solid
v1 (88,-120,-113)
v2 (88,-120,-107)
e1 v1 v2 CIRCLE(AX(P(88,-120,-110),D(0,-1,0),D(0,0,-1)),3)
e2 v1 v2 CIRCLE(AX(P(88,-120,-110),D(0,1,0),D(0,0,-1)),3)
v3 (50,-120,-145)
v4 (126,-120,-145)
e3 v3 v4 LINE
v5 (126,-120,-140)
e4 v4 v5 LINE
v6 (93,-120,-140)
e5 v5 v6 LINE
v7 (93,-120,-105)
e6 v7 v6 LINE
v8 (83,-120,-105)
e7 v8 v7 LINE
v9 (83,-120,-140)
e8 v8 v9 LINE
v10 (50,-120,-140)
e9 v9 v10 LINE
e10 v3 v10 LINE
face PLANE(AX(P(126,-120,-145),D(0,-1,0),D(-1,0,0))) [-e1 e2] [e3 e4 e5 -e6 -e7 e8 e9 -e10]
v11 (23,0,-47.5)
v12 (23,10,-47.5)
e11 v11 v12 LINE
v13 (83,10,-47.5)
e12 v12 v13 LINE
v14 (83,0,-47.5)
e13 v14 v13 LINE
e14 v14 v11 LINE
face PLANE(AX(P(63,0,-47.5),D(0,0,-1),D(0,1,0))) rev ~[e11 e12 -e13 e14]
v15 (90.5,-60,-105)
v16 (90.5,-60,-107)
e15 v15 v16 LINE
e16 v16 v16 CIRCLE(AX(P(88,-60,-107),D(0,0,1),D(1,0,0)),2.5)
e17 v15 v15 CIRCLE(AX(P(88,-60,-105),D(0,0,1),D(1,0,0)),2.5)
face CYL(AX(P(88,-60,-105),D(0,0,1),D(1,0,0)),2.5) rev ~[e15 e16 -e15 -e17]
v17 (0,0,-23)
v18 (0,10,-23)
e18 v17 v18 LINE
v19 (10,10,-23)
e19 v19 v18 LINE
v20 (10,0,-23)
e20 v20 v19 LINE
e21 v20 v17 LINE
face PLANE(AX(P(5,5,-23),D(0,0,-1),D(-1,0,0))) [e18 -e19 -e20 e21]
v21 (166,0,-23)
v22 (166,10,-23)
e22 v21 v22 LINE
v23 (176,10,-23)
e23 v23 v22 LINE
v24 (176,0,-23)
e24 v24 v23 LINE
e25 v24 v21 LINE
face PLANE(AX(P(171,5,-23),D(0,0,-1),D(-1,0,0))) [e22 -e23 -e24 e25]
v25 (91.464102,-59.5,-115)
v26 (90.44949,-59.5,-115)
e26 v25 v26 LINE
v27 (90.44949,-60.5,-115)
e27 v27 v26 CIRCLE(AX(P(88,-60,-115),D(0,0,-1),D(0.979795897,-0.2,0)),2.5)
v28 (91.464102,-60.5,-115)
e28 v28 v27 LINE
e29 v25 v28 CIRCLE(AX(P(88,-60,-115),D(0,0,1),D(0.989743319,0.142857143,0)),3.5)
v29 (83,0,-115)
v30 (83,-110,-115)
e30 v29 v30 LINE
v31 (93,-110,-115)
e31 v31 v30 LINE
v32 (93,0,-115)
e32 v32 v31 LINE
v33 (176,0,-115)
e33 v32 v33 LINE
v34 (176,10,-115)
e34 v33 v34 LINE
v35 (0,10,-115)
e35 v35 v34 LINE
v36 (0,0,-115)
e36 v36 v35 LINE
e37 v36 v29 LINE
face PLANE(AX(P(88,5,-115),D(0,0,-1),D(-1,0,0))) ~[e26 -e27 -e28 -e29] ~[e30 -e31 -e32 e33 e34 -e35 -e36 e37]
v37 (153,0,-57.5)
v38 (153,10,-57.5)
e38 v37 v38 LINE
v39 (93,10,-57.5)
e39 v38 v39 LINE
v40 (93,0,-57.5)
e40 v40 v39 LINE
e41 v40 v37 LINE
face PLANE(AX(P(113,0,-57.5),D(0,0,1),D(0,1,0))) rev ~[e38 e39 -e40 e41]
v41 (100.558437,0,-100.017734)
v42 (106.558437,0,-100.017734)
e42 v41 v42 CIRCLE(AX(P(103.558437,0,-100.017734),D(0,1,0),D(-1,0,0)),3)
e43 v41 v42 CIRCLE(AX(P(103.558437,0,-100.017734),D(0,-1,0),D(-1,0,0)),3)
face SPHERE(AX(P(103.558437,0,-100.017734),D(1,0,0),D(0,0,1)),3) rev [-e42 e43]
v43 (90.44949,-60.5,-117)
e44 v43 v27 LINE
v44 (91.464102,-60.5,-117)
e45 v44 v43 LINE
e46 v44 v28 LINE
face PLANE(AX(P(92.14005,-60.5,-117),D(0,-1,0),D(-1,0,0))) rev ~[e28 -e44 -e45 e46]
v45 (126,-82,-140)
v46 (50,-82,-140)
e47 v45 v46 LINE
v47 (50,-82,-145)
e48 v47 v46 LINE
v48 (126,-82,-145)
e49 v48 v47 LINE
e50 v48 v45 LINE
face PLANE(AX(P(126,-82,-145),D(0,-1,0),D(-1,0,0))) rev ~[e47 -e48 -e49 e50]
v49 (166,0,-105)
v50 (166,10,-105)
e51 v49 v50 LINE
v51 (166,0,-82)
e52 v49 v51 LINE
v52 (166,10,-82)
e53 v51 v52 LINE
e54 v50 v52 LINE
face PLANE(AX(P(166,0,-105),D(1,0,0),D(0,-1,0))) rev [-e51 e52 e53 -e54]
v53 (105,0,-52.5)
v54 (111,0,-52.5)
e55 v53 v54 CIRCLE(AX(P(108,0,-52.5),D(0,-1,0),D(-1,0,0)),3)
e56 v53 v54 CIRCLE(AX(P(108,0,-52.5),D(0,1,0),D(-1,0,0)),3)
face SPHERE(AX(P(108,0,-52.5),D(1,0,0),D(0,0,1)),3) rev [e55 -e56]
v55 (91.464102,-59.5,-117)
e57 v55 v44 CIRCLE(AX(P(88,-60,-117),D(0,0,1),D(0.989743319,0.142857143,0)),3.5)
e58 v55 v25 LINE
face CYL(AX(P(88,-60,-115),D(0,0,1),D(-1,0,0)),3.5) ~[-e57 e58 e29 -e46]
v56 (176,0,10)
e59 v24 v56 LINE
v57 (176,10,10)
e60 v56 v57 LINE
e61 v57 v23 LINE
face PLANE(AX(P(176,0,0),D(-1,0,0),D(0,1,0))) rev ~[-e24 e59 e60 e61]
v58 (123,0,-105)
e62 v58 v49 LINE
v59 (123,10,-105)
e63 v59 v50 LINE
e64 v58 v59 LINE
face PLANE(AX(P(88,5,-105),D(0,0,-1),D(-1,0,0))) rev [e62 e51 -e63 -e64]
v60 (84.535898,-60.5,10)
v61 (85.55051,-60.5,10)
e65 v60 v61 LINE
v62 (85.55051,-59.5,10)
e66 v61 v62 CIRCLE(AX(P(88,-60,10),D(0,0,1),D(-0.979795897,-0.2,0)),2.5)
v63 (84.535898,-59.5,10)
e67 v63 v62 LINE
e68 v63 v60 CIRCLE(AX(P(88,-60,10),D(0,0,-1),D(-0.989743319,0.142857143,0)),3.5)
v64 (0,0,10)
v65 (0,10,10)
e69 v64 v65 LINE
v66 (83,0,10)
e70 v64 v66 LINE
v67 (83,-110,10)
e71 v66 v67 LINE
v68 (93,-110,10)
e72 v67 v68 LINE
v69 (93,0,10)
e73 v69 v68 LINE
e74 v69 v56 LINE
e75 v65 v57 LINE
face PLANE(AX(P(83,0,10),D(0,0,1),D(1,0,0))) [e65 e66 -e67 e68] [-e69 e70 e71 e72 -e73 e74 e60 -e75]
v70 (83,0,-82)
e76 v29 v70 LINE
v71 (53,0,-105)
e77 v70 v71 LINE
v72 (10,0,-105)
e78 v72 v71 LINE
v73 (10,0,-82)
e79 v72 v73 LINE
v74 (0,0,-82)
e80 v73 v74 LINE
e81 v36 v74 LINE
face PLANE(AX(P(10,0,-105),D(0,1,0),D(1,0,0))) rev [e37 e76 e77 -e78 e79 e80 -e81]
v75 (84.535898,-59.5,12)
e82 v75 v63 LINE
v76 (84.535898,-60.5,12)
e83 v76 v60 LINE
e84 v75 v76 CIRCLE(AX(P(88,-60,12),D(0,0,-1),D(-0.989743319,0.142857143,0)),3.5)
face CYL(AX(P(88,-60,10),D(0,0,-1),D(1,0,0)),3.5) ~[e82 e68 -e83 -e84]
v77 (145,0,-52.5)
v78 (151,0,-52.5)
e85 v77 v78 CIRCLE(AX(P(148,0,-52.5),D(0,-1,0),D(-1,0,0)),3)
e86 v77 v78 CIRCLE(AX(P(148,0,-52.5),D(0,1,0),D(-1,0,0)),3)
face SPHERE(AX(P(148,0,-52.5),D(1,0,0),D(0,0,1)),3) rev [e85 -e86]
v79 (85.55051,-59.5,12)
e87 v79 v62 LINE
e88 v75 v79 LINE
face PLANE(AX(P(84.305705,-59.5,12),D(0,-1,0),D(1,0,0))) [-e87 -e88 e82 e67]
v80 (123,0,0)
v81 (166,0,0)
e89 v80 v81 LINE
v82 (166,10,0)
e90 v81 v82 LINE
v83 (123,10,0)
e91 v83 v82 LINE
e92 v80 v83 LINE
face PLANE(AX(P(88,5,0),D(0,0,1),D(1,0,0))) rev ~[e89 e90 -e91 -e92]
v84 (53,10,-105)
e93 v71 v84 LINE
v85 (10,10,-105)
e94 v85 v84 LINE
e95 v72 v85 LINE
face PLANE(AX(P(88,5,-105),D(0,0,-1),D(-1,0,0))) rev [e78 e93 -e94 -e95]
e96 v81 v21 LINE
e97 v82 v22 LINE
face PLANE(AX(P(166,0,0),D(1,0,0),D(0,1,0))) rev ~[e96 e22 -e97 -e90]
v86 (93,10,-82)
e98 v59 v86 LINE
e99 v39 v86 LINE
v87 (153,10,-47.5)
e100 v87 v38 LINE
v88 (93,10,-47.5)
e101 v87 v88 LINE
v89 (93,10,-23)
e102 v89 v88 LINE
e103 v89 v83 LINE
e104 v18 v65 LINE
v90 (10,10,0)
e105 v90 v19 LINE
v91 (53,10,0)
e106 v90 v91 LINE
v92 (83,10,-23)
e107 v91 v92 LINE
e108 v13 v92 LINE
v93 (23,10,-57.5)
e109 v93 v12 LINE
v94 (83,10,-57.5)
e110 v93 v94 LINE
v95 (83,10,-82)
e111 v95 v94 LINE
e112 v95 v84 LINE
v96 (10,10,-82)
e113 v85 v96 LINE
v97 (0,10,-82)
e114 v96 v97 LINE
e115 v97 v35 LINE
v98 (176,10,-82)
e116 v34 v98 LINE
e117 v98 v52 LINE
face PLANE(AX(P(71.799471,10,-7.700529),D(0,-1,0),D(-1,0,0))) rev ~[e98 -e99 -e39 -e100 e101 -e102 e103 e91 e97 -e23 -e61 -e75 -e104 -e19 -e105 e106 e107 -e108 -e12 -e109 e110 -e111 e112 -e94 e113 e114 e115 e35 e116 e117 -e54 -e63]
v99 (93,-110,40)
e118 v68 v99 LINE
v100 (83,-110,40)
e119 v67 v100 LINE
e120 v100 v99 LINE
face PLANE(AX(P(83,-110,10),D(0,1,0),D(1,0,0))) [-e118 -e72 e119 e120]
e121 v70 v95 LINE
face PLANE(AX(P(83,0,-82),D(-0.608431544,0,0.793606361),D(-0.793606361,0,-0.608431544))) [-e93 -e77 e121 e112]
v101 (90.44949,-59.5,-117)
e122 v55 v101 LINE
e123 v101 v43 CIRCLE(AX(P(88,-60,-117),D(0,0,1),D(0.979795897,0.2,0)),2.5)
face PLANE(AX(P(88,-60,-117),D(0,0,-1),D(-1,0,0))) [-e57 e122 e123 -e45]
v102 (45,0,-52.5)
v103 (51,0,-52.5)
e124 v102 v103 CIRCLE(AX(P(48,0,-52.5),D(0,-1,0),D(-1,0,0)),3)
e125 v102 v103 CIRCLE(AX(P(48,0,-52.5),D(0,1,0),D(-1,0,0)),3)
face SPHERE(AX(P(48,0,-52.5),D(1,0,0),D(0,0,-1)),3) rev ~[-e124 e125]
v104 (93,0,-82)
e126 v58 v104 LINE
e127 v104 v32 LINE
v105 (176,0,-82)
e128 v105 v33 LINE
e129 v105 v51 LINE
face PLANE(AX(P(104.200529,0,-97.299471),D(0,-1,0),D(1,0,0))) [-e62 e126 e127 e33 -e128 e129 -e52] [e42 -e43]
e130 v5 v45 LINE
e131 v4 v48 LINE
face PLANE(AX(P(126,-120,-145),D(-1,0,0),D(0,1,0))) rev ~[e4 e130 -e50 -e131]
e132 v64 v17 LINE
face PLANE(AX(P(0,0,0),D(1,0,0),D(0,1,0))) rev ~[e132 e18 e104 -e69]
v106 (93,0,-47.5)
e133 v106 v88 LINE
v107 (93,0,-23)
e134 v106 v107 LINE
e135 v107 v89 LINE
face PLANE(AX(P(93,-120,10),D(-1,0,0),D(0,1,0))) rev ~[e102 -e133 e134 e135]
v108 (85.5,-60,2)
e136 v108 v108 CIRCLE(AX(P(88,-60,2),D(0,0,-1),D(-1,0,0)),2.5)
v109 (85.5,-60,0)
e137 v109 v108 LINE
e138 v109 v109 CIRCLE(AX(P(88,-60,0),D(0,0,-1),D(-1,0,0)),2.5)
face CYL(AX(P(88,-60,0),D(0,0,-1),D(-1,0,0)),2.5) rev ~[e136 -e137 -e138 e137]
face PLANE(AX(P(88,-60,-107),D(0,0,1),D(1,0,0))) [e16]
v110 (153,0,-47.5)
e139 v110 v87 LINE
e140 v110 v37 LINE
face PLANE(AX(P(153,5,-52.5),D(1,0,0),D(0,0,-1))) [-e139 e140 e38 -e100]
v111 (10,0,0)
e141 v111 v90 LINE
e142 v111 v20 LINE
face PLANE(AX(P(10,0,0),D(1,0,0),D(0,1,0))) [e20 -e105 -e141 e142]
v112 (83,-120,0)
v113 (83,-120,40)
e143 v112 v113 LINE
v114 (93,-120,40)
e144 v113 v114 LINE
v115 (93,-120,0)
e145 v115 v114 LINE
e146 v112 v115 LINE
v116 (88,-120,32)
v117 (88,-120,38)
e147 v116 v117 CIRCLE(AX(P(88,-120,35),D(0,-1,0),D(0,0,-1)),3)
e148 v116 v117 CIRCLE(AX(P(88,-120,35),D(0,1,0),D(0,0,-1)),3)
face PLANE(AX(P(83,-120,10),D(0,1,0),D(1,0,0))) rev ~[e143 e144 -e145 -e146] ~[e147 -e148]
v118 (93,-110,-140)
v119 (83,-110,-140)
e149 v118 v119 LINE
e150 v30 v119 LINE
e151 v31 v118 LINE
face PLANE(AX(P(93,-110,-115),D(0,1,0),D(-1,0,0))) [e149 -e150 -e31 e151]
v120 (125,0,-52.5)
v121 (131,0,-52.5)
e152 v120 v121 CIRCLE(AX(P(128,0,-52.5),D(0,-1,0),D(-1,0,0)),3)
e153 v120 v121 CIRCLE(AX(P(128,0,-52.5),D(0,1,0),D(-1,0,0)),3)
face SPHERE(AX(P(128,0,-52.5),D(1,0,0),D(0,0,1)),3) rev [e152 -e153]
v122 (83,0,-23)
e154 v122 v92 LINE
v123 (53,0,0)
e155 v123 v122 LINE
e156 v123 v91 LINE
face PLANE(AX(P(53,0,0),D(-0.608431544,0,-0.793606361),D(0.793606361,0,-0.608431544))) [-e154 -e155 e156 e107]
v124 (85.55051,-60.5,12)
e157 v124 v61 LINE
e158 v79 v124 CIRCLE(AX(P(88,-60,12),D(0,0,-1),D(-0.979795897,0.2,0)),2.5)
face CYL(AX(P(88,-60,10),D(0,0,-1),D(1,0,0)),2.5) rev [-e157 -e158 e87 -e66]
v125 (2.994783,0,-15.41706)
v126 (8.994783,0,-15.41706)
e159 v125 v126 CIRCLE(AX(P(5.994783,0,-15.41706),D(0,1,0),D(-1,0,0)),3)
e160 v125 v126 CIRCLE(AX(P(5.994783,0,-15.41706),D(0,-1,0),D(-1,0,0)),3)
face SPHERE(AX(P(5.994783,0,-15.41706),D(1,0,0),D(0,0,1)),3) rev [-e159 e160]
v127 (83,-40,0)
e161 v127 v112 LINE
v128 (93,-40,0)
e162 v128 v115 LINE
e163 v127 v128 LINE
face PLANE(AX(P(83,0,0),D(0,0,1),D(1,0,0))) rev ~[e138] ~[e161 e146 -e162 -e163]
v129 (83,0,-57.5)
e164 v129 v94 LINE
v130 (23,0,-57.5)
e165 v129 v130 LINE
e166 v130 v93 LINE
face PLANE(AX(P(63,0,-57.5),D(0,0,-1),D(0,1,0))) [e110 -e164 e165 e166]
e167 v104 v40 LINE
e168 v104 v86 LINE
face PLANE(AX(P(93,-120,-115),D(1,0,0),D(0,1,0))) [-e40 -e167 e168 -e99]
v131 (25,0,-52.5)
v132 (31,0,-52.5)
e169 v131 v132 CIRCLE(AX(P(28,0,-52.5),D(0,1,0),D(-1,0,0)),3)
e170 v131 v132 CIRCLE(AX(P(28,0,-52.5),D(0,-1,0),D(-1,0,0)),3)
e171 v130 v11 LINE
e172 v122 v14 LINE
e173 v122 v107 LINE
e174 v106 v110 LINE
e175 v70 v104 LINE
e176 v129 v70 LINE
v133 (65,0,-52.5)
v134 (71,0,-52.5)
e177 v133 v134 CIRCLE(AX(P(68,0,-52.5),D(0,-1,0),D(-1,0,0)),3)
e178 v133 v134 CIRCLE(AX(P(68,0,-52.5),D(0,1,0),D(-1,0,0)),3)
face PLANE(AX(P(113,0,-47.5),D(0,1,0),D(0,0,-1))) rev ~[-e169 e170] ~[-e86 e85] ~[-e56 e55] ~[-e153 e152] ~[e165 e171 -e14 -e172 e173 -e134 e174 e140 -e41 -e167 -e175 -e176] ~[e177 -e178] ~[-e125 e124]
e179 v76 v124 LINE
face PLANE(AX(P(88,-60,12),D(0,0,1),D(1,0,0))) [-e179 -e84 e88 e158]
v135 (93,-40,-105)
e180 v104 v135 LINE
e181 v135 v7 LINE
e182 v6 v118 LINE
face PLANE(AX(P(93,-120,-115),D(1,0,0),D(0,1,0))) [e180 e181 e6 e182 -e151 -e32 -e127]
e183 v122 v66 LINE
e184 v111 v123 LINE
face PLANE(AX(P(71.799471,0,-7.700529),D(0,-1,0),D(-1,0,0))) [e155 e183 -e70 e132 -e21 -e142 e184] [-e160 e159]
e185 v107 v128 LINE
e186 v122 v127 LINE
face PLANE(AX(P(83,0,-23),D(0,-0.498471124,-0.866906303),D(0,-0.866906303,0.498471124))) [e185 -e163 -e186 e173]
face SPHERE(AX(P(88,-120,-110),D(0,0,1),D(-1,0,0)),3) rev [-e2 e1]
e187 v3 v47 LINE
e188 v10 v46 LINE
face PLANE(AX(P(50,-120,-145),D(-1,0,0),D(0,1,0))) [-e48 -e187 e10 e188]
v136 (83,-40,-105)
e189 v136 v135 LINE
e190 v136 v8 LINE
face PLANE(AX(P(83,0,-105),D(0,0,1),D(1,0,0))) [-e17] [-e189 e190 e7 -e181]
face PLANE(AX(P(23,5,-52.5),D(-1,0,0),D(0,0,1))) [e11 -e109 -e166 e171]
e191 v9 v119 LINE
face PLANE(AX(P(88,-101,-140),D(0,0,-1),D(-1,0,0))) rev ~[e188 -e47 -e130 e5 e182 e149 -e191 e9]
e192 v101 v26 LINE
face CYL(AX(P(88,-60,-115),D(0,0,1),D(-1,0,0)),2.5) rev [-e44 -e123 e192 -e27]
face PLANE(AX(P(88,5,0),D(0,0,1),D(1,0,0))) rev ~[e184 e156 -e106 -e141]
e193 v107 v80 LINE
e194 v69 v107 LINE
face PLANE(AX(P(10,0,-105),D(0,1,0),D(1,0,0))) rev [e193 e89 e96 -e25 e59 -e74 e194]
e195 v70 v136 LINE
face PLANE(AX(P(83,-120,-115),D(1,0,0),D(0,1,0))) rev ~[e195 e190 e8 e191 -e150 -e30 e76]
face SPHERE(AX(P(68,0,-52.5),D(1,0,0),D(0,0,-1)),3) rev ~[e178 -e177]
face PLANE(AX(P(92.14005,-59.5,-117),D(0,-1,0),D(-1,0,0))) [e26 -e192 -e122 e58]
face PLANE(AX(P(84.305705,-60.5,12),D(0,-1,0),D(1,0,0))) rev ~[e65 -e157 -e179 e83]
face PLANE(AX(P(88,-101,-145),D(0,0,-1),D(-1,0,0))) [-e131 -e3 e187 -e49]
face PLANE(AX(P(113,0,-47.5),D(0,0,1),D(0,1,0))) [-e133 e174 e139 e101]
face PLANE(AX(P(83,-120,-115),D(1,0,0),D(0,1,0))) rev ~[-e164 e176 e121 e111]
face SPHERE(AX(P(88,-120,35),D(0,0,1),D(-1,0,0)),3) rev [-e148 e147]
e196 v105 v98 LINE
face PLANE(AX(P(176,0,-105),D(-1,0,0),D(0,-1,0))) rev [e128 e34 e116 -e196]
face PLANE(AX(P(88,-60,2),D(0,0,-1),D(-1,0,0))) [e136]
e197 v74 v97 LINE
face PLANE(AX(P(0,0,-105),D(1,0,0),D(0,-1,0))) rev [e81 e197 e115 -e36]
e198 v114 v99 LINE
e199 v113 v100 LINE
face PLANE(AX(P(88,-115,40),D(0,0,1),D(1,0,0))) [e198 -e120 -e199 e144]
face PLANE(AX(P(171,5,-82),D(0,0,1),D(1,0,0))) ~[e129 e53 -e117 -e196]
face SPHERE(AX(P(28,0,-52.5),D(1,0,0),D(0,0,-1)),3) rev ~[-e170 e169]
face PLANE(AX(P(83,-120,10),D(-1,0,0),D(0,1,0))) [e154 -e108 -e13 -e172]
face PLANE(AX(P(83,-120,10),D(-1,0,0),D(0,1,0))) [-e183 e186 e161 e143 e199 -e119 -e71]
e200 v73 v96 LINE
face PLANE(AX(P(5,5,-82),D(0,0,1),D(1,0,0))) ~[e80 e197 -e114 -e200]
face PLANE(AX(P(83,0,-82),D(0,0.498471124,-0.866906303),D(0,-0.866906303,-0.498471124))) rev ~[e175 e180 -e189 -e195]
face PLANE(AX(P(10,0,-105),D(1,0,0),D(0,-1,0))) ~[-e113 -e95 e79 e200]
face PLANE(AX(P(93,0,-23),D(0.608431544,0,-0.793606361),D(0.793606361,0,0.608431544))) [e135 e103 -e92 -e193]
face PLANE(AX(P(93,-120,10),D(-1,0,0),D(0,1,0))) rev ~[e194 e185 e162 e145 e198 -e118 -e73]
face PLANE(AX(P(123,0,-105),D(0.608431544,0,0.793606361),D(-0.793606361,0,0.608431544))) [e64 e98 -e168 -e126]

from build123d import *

# Parameters (mm, degrees)
SKETCH1_W            = 176
SKETCH1_H            = 10
BOSS_EXTRUDE1_DEPTH  = 10
SKETCH2_W            = 10
SKETCH2_H            = 10
BOSS_EXTRUDE2_DEPTH  = 52.5
SKETCH3_W            = 10
SKETCH3_H            = 10
BOSS_EXTRUDE3_DEPTH  = 23
SKETCH4_W            = 10
SKETCH4_H            = 10
BOSS_EXTRUDE4_DEPTH  = 120
BOSS_EXTRUDE5_DEPTH  = 10
SKETCH17_W           = 10
SKETCH17_H           = 10
BOSS_EXTRUDE6_DEPTH  = 20
CUT_REVOLVE2_ANGLE   = 180
LPATTERN1_COUNT      = 3
LPATTERN1_PITCH      = 20
SKETCH23_W           = 10
SKETCH23_H           = 10
BOSS_EXTRUDE7_DEPTH  = 20
CUT_REVOLVE3_ANGLE   = 180
LPATTERN2_COUNT      = 3
LPATTERN2_PITCH      = 20
SKETCH25_W           = 10
SKETCH25_H           = 10
BOSS_EXTRUDE8_DEPTH  = 30
SKETCH27_W           = 10
SKETCH27_H           = 10
BOSS_EXTRUDE10_DEPTH = 30
SKETCH28_W           = 76
SKETCH28_H           = 38
BOSS_EXTRUDE11_DEPTH = 5
BOSS_EXTRUDE12_DEPTH = 10
CIRPATTERN2_COUNT    = 2
SKETCH31_R           = 3.5
SKETCH31_R_2         = 2.5
BOSS_EXTRUDE13_DEPTH = 2
SKETCH32_R           = 3.5
SKETCH32_R_2         = 2.5
BOSS_EXTRUDE14_DEPTH = 2
SKETCH33_R           = 2.5
CUT_EXTRUDE1_DEPTH   = 2
SKETCH34_R           = 2.5
CUT_EXTRUDE2_DEPTH   = 2
SKETCH35_W           = 2.388589586
SKETCH35_H           = 1
CUT_EXTRUDE3_DEPTH   = 2
SKETCH37_W           = 2.280099824
SKETCH37_H           = 1
CUT_EXTRUDE4_DEPTH   = 2
CUT_REVOLVE4_ANGLE   = 180
CUT_REVOLVE5_ANGLE   = 180
CUT_REVOLVE8_ANGLE   = 180
CUT_REVOLVE9_ANGLE   = 180


with BuildPart() as part:
    # Sketch1 → Boss-Extrude1 (new body)
    with BuildSketch(Plane.XY):
        with Locations((88, 5)):
            Rectangle(SKETCH1_W, SKETCH1_H)
    extrude(amount=BOSS_EXTRUDE1_DEPTH)

    # Sketch2 → Boss-Extrude2 (add)
    with BuildSketch(Plane(origin=(0, 0, 0), x_dir=(-1, 0, 0), z_dir=(0, 0, -1))):
        with Locations((-88, 5)):
            Rectangle(SKETCH2_W, SKETCH2_H)
    extrude(amount=BOSS_EXTRUDE2_DEPTH)

    # Sketch3 → Boss-Extrude3 (add)
    with BuildSketch(Plane(origin=(0, 0, 0), x_dir=(-1, 0, 0), z_dir=(0, 0, -1))):
        with Locations((-5, 5)):
            Rectangle(SKETCH3_W, SKETCH3_H)
        with Locations((-171, 5)):
            Rectangle(SKETCH3_W, SKETCH3_H)
    extrude(amount=BOSS_EXTRUDE3_DEPTH)

    # Mirror6: part across plane


with BuildPart() as part_1:
    add(part.part)
    add(part.part.mirror(Plane.XY.offset(-52.5)))

    # Sketch4 → Boss-Extrude4 (add)
    with BuildSketch(Plane.XZ):
        with Locations((88, 5)):
            Rectangle(SKETCH4_W, SKETCH4_H)
        with Locations((88, -110)):
            Rectangle(SKETCH4_W, SKETCH4_H)
    extrude(amount=BOSS_EXTRUDE4_DEPTH)

    # Sketch13 → Boss-Extrude5 (add)
    with BuildSketch(Plane.ZY.offset(-83)):
        Polygon((-105, 0), (-82, 0), (-105, -40), align=None)
        Polygon((0, -40), (0, 0), (-23, 0), align=None)
    extrude(amount=-BOSS_EXTRUDE5_DEPTH)

    # Sketch17 → Boss-Extrude6 (add)
    with BuildSketch(Plane.ZY.offset(-83)):
        with Locations((-52.5, 5)):
            Rectangle(SKETCH17_W, SKETCH17_H)
    boss_extrude6 = extrude(amount=BOSS_EXTRUDE6_DEPTH)

    # Sketch18 → Cut-Revolve2 (revolve, cut)
    with BuildSketch(Plane.XZ):
        with BuildLine():
            Line((71, -52.5), (65, -52.5))
            ThreePointArc((65, -52.5), (68, -55.5), (71, -52.5))
        make_face()
    cut_revolve2 = revolve(axis=Axis((71, 0, -52.5), (1, 0, 0)), revolution_arc=CUT_REVOLVE2_ANGLE, mode=Mode.SUBTRACT)

    # LPattern1: Boss-Extrude6, Cut-Revolve2 ×3
    with Locations(*[(-i * LPATTERN1_PITCH, 0, 0) for i in range(1, LPATTERN1_COUNT)]):
        add(boss_extrude6)
        add(cut_revolve2, mode=Mode.SUBTRACT)

    # Sketch23 → Boss-Extrude7 (add)
    with BuildSketch(Plane(origin=(93, 0, 0), x_dir=(0, 0, -1), z_dir=(1, 0, 0))):
        with Locations((52.5, 5)):
            Rectangle(SKETCH23_W, SKETCH23_H)
    boss_extrude7 = extrude(amount=BOSS_EXTRUDE7_DEPTH)

    # Sketch24 → Cut-Revolve3 (revolve, cut)
    with BuildSketch(Plane.XZ):
        with BuildLine():
            ThreePointArc((105, -52.5), (108, -49.5), (111, -52.5))
            Line((111, -52.5), (105, -52.5))
        make_face()
    cut_revolve3 = revolve(axis=Axis((111, 0, -52.5), (-1, 0, 0)), revolution_arc=CUT_REVOLVE3_ANGLE, mode=Mode.SUBTRACT)

    # LPattern2: Boss-Extrude7, Cut-Revolve3 ×3
    with Locations(*[(i * LPATTERN2_PITCH, 0, 0) for i in range(1, LPATTERN2_COUNT)]):
        add(boss_extrude7)
        add(cut_revolve3, mode=Mode.SUBTRACT)

    # Sketch25 → Boss-Extrude8 (add)
    with BuildSketch(Plane(origin=(0, 0, -115), x_dir=(-1, 0, 0), z_dir=(0, 0, -1))):
        with Locations((-88, -115)):
            Rectangle(SKETCH25_W, SKETCH25_H)
    extrude(amount=BOSS_EXTRUDE8_DEPTH)

    # Sketch27 → Boss-Extrude10 (add)
    with BuildSketch(Plane.XY.offset(10)):
        with Locations((88, -115)):
            Rectangle(SKETCH27_W, SKETCH27_H)
    extrude(amount=BOSS_EXTRUDE10_DEPTH)

    # Sketch28 → Boss-Extrude11 (add)
    with BuildSketch(Plane(origin=(0, 0, -145), x_dir=(-1, 0, 0), z_dir=(0, 0, -1))):
        with Locations((-88, -101)):
            Rectangle(SKETCH28_W, SKETCH28_H)
    extrude(amount=-BOSS_EXTRUDE11_DEPTH)

    # Sketch30 → Boss-Extrude12 (add)
    with BuildSketch(Plane.XZ):
        Polygon((93, -105), (123, -105), (93, -82), align=None)
        Polygon((93, 0), (93, -23), (123, 0), align=None)
    boss_extrude12 = extrude(amount=-BOSS_EXTRUDE12_DEPTH)

    # CirPattern2: Boss-Extrude12 ×2 about axis
    cirpattern2_axis = Axis((88, 0, -52.5), (0, 1, 0))
    for i in range(1, CIRPATTERN2_COUNT):
        add(boss_extrude12.rotate(cirpattern2_axis, i * 360 / CIRPATTERN2_COUNT))

    # Sketch31 → Boss-Extrude13 (add)
    with BuildSketch(Plane(origin=(0, 0, -115), x_dir=(-1, 0, 0), z_dir=(0, 0, -1))):
        with Locations((-88, -60)):
            Circle(SKETCH31_R)
        with Locations((-88, -60)):
            Circle(SKETCH31_R_2, mode=Mode.SUBTRACT)
    extrude(amount=BOSS_EXTRUDE13_DEPTH)

    # Sketch32 → Boss-Extrude14 (add)
    with BuildSketch(Plane.XY.offset(10)):
        with Locations((88, -60)):
            Circle(SKETCH32_R)
        with Locations((88, -60)):
            Circle(SKETCH32_R_2, mode=Mode.SUBTRACT)
    extrude(amount=BOSS_EXTRUDE14_DEPTH)

    # Sketch33 → Cut-Extrude1 (cut)
    with BuildSketch(Plane.XY.offset(-105)):
        with Locations((88, -60)):
            Circle(SKETCH33_R)
    extrude(amount=-CUT_EXTRUDE1_DEPTH, mode=Mode.SUBTRACT)

    # Sketch34 → Cut-Extrude2 (cut)
    with BuildSketch(Plane(origin=(0, 0, 0), x_dir=(-1, 0, 0), z_dir=(0, 0, -1))):
        with Locations((-88, -60)):
            Circle(SKETCH34_R)
    extrude(amount=-CUT_EXTRUDE2_DEPTH, mode=Mode.SUBTRACT)

    # Sketch35 → Cut-Extrude3 (cut)
    with BuildSketch(Plane.XY.offset(12)):
        with Locations((85.5, -60)):
            Rectangle(SKETCH35_W, SKETCH35_H)
    extrude(amount=-CUT_EXTRUDE3_DEPTH, mode=Mode.SUBTRACT)

    # Sketch37 → Cut-Extrude4 (cut)
    with BuildSketch(Plane(origin=(0, 0, -117), x_dir=(-1, 0, 0), z_dir=(0, 0, -1))):
        with Locations((-91, -60)):
            Rectangle(SKETCH37_W, SKETCH37_H)
    extrude(amount=-CUT_EXTRUDE4_DEPTH, mode=Mode.SUBTRACT)

    # Sketch40 → Cut-Revolve4 (revolve, cut)
    with BuildSketch(Plane.XZ):
        with BuildLine():
            ThreePointArc((100.558437384, -100.017733807), (103.558437384, -97.017733807), (106.558437384, -100.017733807))
            Line((106.558437384, -100.017733807), (103.558437384, -100.017733807))
            Line((103.558437384, -100.017733807), (100.558437384, -100.017733807))
        make_face()
    revolve(axis=Axis((103.558437384, 0, -100.017733807), (-1, 0, 0)), revolution_arc=CUT_REVOLVE4_ANGLE, mode=Mode.SUBTRACT)

    # Sketch20 → Cut-Revolve5 (revolve, cut)
    with BuildSketch(Plane.XZ):
        with BuildLine():
            ThreePointArc((2.994783484, -15.417059662), (5.994783484, -12.417059662), (8.994783484, -15.417059662))
            Line((8.994783484, -15.417059662), (2.994783484, -15.417059662))
        make_face()
    revolve(axis=Axis((2.994783484, 0, -15.417059662), (-1, 0, 0)), revolution_arc=CUT_REVOLVE5_ANGLE, mode=Mode.SUBTRACT)

    # Sketch42 → Cut-Revolve8 (revolve, cut)
    with BuildSketch(Plane.XZ.offset(120)):
        with BuildLine():
            Line((88, 38), (88, 32))
            ThreePointArc((88, 32), (85, 35), (88, 38))
        make_face()
    revolve(axis=Axis((88, -120, 38), (0, 0, -1)), revolution_arc=CUT_REVOLVE8_ANGLE, mode=Mode.SUBTRACT)

    # Sketch44 → Cut-Revolve9 (revolve, cut)
    with BuildSketch(Plane.XZ.offset(120)):
        with BuildLine():
            Line((88, -107), (88, -113))
            ThreePointArc((88, -113), (85, -110), (88, -107))
        make_face()
    revolve(axis=Axis((88, -120, -107), (0, 0, -1)), revolution_arc=CUT_REVOLVE9_ANGLE, mode=Mode.SUBTRACT)


solid = part_1.part
